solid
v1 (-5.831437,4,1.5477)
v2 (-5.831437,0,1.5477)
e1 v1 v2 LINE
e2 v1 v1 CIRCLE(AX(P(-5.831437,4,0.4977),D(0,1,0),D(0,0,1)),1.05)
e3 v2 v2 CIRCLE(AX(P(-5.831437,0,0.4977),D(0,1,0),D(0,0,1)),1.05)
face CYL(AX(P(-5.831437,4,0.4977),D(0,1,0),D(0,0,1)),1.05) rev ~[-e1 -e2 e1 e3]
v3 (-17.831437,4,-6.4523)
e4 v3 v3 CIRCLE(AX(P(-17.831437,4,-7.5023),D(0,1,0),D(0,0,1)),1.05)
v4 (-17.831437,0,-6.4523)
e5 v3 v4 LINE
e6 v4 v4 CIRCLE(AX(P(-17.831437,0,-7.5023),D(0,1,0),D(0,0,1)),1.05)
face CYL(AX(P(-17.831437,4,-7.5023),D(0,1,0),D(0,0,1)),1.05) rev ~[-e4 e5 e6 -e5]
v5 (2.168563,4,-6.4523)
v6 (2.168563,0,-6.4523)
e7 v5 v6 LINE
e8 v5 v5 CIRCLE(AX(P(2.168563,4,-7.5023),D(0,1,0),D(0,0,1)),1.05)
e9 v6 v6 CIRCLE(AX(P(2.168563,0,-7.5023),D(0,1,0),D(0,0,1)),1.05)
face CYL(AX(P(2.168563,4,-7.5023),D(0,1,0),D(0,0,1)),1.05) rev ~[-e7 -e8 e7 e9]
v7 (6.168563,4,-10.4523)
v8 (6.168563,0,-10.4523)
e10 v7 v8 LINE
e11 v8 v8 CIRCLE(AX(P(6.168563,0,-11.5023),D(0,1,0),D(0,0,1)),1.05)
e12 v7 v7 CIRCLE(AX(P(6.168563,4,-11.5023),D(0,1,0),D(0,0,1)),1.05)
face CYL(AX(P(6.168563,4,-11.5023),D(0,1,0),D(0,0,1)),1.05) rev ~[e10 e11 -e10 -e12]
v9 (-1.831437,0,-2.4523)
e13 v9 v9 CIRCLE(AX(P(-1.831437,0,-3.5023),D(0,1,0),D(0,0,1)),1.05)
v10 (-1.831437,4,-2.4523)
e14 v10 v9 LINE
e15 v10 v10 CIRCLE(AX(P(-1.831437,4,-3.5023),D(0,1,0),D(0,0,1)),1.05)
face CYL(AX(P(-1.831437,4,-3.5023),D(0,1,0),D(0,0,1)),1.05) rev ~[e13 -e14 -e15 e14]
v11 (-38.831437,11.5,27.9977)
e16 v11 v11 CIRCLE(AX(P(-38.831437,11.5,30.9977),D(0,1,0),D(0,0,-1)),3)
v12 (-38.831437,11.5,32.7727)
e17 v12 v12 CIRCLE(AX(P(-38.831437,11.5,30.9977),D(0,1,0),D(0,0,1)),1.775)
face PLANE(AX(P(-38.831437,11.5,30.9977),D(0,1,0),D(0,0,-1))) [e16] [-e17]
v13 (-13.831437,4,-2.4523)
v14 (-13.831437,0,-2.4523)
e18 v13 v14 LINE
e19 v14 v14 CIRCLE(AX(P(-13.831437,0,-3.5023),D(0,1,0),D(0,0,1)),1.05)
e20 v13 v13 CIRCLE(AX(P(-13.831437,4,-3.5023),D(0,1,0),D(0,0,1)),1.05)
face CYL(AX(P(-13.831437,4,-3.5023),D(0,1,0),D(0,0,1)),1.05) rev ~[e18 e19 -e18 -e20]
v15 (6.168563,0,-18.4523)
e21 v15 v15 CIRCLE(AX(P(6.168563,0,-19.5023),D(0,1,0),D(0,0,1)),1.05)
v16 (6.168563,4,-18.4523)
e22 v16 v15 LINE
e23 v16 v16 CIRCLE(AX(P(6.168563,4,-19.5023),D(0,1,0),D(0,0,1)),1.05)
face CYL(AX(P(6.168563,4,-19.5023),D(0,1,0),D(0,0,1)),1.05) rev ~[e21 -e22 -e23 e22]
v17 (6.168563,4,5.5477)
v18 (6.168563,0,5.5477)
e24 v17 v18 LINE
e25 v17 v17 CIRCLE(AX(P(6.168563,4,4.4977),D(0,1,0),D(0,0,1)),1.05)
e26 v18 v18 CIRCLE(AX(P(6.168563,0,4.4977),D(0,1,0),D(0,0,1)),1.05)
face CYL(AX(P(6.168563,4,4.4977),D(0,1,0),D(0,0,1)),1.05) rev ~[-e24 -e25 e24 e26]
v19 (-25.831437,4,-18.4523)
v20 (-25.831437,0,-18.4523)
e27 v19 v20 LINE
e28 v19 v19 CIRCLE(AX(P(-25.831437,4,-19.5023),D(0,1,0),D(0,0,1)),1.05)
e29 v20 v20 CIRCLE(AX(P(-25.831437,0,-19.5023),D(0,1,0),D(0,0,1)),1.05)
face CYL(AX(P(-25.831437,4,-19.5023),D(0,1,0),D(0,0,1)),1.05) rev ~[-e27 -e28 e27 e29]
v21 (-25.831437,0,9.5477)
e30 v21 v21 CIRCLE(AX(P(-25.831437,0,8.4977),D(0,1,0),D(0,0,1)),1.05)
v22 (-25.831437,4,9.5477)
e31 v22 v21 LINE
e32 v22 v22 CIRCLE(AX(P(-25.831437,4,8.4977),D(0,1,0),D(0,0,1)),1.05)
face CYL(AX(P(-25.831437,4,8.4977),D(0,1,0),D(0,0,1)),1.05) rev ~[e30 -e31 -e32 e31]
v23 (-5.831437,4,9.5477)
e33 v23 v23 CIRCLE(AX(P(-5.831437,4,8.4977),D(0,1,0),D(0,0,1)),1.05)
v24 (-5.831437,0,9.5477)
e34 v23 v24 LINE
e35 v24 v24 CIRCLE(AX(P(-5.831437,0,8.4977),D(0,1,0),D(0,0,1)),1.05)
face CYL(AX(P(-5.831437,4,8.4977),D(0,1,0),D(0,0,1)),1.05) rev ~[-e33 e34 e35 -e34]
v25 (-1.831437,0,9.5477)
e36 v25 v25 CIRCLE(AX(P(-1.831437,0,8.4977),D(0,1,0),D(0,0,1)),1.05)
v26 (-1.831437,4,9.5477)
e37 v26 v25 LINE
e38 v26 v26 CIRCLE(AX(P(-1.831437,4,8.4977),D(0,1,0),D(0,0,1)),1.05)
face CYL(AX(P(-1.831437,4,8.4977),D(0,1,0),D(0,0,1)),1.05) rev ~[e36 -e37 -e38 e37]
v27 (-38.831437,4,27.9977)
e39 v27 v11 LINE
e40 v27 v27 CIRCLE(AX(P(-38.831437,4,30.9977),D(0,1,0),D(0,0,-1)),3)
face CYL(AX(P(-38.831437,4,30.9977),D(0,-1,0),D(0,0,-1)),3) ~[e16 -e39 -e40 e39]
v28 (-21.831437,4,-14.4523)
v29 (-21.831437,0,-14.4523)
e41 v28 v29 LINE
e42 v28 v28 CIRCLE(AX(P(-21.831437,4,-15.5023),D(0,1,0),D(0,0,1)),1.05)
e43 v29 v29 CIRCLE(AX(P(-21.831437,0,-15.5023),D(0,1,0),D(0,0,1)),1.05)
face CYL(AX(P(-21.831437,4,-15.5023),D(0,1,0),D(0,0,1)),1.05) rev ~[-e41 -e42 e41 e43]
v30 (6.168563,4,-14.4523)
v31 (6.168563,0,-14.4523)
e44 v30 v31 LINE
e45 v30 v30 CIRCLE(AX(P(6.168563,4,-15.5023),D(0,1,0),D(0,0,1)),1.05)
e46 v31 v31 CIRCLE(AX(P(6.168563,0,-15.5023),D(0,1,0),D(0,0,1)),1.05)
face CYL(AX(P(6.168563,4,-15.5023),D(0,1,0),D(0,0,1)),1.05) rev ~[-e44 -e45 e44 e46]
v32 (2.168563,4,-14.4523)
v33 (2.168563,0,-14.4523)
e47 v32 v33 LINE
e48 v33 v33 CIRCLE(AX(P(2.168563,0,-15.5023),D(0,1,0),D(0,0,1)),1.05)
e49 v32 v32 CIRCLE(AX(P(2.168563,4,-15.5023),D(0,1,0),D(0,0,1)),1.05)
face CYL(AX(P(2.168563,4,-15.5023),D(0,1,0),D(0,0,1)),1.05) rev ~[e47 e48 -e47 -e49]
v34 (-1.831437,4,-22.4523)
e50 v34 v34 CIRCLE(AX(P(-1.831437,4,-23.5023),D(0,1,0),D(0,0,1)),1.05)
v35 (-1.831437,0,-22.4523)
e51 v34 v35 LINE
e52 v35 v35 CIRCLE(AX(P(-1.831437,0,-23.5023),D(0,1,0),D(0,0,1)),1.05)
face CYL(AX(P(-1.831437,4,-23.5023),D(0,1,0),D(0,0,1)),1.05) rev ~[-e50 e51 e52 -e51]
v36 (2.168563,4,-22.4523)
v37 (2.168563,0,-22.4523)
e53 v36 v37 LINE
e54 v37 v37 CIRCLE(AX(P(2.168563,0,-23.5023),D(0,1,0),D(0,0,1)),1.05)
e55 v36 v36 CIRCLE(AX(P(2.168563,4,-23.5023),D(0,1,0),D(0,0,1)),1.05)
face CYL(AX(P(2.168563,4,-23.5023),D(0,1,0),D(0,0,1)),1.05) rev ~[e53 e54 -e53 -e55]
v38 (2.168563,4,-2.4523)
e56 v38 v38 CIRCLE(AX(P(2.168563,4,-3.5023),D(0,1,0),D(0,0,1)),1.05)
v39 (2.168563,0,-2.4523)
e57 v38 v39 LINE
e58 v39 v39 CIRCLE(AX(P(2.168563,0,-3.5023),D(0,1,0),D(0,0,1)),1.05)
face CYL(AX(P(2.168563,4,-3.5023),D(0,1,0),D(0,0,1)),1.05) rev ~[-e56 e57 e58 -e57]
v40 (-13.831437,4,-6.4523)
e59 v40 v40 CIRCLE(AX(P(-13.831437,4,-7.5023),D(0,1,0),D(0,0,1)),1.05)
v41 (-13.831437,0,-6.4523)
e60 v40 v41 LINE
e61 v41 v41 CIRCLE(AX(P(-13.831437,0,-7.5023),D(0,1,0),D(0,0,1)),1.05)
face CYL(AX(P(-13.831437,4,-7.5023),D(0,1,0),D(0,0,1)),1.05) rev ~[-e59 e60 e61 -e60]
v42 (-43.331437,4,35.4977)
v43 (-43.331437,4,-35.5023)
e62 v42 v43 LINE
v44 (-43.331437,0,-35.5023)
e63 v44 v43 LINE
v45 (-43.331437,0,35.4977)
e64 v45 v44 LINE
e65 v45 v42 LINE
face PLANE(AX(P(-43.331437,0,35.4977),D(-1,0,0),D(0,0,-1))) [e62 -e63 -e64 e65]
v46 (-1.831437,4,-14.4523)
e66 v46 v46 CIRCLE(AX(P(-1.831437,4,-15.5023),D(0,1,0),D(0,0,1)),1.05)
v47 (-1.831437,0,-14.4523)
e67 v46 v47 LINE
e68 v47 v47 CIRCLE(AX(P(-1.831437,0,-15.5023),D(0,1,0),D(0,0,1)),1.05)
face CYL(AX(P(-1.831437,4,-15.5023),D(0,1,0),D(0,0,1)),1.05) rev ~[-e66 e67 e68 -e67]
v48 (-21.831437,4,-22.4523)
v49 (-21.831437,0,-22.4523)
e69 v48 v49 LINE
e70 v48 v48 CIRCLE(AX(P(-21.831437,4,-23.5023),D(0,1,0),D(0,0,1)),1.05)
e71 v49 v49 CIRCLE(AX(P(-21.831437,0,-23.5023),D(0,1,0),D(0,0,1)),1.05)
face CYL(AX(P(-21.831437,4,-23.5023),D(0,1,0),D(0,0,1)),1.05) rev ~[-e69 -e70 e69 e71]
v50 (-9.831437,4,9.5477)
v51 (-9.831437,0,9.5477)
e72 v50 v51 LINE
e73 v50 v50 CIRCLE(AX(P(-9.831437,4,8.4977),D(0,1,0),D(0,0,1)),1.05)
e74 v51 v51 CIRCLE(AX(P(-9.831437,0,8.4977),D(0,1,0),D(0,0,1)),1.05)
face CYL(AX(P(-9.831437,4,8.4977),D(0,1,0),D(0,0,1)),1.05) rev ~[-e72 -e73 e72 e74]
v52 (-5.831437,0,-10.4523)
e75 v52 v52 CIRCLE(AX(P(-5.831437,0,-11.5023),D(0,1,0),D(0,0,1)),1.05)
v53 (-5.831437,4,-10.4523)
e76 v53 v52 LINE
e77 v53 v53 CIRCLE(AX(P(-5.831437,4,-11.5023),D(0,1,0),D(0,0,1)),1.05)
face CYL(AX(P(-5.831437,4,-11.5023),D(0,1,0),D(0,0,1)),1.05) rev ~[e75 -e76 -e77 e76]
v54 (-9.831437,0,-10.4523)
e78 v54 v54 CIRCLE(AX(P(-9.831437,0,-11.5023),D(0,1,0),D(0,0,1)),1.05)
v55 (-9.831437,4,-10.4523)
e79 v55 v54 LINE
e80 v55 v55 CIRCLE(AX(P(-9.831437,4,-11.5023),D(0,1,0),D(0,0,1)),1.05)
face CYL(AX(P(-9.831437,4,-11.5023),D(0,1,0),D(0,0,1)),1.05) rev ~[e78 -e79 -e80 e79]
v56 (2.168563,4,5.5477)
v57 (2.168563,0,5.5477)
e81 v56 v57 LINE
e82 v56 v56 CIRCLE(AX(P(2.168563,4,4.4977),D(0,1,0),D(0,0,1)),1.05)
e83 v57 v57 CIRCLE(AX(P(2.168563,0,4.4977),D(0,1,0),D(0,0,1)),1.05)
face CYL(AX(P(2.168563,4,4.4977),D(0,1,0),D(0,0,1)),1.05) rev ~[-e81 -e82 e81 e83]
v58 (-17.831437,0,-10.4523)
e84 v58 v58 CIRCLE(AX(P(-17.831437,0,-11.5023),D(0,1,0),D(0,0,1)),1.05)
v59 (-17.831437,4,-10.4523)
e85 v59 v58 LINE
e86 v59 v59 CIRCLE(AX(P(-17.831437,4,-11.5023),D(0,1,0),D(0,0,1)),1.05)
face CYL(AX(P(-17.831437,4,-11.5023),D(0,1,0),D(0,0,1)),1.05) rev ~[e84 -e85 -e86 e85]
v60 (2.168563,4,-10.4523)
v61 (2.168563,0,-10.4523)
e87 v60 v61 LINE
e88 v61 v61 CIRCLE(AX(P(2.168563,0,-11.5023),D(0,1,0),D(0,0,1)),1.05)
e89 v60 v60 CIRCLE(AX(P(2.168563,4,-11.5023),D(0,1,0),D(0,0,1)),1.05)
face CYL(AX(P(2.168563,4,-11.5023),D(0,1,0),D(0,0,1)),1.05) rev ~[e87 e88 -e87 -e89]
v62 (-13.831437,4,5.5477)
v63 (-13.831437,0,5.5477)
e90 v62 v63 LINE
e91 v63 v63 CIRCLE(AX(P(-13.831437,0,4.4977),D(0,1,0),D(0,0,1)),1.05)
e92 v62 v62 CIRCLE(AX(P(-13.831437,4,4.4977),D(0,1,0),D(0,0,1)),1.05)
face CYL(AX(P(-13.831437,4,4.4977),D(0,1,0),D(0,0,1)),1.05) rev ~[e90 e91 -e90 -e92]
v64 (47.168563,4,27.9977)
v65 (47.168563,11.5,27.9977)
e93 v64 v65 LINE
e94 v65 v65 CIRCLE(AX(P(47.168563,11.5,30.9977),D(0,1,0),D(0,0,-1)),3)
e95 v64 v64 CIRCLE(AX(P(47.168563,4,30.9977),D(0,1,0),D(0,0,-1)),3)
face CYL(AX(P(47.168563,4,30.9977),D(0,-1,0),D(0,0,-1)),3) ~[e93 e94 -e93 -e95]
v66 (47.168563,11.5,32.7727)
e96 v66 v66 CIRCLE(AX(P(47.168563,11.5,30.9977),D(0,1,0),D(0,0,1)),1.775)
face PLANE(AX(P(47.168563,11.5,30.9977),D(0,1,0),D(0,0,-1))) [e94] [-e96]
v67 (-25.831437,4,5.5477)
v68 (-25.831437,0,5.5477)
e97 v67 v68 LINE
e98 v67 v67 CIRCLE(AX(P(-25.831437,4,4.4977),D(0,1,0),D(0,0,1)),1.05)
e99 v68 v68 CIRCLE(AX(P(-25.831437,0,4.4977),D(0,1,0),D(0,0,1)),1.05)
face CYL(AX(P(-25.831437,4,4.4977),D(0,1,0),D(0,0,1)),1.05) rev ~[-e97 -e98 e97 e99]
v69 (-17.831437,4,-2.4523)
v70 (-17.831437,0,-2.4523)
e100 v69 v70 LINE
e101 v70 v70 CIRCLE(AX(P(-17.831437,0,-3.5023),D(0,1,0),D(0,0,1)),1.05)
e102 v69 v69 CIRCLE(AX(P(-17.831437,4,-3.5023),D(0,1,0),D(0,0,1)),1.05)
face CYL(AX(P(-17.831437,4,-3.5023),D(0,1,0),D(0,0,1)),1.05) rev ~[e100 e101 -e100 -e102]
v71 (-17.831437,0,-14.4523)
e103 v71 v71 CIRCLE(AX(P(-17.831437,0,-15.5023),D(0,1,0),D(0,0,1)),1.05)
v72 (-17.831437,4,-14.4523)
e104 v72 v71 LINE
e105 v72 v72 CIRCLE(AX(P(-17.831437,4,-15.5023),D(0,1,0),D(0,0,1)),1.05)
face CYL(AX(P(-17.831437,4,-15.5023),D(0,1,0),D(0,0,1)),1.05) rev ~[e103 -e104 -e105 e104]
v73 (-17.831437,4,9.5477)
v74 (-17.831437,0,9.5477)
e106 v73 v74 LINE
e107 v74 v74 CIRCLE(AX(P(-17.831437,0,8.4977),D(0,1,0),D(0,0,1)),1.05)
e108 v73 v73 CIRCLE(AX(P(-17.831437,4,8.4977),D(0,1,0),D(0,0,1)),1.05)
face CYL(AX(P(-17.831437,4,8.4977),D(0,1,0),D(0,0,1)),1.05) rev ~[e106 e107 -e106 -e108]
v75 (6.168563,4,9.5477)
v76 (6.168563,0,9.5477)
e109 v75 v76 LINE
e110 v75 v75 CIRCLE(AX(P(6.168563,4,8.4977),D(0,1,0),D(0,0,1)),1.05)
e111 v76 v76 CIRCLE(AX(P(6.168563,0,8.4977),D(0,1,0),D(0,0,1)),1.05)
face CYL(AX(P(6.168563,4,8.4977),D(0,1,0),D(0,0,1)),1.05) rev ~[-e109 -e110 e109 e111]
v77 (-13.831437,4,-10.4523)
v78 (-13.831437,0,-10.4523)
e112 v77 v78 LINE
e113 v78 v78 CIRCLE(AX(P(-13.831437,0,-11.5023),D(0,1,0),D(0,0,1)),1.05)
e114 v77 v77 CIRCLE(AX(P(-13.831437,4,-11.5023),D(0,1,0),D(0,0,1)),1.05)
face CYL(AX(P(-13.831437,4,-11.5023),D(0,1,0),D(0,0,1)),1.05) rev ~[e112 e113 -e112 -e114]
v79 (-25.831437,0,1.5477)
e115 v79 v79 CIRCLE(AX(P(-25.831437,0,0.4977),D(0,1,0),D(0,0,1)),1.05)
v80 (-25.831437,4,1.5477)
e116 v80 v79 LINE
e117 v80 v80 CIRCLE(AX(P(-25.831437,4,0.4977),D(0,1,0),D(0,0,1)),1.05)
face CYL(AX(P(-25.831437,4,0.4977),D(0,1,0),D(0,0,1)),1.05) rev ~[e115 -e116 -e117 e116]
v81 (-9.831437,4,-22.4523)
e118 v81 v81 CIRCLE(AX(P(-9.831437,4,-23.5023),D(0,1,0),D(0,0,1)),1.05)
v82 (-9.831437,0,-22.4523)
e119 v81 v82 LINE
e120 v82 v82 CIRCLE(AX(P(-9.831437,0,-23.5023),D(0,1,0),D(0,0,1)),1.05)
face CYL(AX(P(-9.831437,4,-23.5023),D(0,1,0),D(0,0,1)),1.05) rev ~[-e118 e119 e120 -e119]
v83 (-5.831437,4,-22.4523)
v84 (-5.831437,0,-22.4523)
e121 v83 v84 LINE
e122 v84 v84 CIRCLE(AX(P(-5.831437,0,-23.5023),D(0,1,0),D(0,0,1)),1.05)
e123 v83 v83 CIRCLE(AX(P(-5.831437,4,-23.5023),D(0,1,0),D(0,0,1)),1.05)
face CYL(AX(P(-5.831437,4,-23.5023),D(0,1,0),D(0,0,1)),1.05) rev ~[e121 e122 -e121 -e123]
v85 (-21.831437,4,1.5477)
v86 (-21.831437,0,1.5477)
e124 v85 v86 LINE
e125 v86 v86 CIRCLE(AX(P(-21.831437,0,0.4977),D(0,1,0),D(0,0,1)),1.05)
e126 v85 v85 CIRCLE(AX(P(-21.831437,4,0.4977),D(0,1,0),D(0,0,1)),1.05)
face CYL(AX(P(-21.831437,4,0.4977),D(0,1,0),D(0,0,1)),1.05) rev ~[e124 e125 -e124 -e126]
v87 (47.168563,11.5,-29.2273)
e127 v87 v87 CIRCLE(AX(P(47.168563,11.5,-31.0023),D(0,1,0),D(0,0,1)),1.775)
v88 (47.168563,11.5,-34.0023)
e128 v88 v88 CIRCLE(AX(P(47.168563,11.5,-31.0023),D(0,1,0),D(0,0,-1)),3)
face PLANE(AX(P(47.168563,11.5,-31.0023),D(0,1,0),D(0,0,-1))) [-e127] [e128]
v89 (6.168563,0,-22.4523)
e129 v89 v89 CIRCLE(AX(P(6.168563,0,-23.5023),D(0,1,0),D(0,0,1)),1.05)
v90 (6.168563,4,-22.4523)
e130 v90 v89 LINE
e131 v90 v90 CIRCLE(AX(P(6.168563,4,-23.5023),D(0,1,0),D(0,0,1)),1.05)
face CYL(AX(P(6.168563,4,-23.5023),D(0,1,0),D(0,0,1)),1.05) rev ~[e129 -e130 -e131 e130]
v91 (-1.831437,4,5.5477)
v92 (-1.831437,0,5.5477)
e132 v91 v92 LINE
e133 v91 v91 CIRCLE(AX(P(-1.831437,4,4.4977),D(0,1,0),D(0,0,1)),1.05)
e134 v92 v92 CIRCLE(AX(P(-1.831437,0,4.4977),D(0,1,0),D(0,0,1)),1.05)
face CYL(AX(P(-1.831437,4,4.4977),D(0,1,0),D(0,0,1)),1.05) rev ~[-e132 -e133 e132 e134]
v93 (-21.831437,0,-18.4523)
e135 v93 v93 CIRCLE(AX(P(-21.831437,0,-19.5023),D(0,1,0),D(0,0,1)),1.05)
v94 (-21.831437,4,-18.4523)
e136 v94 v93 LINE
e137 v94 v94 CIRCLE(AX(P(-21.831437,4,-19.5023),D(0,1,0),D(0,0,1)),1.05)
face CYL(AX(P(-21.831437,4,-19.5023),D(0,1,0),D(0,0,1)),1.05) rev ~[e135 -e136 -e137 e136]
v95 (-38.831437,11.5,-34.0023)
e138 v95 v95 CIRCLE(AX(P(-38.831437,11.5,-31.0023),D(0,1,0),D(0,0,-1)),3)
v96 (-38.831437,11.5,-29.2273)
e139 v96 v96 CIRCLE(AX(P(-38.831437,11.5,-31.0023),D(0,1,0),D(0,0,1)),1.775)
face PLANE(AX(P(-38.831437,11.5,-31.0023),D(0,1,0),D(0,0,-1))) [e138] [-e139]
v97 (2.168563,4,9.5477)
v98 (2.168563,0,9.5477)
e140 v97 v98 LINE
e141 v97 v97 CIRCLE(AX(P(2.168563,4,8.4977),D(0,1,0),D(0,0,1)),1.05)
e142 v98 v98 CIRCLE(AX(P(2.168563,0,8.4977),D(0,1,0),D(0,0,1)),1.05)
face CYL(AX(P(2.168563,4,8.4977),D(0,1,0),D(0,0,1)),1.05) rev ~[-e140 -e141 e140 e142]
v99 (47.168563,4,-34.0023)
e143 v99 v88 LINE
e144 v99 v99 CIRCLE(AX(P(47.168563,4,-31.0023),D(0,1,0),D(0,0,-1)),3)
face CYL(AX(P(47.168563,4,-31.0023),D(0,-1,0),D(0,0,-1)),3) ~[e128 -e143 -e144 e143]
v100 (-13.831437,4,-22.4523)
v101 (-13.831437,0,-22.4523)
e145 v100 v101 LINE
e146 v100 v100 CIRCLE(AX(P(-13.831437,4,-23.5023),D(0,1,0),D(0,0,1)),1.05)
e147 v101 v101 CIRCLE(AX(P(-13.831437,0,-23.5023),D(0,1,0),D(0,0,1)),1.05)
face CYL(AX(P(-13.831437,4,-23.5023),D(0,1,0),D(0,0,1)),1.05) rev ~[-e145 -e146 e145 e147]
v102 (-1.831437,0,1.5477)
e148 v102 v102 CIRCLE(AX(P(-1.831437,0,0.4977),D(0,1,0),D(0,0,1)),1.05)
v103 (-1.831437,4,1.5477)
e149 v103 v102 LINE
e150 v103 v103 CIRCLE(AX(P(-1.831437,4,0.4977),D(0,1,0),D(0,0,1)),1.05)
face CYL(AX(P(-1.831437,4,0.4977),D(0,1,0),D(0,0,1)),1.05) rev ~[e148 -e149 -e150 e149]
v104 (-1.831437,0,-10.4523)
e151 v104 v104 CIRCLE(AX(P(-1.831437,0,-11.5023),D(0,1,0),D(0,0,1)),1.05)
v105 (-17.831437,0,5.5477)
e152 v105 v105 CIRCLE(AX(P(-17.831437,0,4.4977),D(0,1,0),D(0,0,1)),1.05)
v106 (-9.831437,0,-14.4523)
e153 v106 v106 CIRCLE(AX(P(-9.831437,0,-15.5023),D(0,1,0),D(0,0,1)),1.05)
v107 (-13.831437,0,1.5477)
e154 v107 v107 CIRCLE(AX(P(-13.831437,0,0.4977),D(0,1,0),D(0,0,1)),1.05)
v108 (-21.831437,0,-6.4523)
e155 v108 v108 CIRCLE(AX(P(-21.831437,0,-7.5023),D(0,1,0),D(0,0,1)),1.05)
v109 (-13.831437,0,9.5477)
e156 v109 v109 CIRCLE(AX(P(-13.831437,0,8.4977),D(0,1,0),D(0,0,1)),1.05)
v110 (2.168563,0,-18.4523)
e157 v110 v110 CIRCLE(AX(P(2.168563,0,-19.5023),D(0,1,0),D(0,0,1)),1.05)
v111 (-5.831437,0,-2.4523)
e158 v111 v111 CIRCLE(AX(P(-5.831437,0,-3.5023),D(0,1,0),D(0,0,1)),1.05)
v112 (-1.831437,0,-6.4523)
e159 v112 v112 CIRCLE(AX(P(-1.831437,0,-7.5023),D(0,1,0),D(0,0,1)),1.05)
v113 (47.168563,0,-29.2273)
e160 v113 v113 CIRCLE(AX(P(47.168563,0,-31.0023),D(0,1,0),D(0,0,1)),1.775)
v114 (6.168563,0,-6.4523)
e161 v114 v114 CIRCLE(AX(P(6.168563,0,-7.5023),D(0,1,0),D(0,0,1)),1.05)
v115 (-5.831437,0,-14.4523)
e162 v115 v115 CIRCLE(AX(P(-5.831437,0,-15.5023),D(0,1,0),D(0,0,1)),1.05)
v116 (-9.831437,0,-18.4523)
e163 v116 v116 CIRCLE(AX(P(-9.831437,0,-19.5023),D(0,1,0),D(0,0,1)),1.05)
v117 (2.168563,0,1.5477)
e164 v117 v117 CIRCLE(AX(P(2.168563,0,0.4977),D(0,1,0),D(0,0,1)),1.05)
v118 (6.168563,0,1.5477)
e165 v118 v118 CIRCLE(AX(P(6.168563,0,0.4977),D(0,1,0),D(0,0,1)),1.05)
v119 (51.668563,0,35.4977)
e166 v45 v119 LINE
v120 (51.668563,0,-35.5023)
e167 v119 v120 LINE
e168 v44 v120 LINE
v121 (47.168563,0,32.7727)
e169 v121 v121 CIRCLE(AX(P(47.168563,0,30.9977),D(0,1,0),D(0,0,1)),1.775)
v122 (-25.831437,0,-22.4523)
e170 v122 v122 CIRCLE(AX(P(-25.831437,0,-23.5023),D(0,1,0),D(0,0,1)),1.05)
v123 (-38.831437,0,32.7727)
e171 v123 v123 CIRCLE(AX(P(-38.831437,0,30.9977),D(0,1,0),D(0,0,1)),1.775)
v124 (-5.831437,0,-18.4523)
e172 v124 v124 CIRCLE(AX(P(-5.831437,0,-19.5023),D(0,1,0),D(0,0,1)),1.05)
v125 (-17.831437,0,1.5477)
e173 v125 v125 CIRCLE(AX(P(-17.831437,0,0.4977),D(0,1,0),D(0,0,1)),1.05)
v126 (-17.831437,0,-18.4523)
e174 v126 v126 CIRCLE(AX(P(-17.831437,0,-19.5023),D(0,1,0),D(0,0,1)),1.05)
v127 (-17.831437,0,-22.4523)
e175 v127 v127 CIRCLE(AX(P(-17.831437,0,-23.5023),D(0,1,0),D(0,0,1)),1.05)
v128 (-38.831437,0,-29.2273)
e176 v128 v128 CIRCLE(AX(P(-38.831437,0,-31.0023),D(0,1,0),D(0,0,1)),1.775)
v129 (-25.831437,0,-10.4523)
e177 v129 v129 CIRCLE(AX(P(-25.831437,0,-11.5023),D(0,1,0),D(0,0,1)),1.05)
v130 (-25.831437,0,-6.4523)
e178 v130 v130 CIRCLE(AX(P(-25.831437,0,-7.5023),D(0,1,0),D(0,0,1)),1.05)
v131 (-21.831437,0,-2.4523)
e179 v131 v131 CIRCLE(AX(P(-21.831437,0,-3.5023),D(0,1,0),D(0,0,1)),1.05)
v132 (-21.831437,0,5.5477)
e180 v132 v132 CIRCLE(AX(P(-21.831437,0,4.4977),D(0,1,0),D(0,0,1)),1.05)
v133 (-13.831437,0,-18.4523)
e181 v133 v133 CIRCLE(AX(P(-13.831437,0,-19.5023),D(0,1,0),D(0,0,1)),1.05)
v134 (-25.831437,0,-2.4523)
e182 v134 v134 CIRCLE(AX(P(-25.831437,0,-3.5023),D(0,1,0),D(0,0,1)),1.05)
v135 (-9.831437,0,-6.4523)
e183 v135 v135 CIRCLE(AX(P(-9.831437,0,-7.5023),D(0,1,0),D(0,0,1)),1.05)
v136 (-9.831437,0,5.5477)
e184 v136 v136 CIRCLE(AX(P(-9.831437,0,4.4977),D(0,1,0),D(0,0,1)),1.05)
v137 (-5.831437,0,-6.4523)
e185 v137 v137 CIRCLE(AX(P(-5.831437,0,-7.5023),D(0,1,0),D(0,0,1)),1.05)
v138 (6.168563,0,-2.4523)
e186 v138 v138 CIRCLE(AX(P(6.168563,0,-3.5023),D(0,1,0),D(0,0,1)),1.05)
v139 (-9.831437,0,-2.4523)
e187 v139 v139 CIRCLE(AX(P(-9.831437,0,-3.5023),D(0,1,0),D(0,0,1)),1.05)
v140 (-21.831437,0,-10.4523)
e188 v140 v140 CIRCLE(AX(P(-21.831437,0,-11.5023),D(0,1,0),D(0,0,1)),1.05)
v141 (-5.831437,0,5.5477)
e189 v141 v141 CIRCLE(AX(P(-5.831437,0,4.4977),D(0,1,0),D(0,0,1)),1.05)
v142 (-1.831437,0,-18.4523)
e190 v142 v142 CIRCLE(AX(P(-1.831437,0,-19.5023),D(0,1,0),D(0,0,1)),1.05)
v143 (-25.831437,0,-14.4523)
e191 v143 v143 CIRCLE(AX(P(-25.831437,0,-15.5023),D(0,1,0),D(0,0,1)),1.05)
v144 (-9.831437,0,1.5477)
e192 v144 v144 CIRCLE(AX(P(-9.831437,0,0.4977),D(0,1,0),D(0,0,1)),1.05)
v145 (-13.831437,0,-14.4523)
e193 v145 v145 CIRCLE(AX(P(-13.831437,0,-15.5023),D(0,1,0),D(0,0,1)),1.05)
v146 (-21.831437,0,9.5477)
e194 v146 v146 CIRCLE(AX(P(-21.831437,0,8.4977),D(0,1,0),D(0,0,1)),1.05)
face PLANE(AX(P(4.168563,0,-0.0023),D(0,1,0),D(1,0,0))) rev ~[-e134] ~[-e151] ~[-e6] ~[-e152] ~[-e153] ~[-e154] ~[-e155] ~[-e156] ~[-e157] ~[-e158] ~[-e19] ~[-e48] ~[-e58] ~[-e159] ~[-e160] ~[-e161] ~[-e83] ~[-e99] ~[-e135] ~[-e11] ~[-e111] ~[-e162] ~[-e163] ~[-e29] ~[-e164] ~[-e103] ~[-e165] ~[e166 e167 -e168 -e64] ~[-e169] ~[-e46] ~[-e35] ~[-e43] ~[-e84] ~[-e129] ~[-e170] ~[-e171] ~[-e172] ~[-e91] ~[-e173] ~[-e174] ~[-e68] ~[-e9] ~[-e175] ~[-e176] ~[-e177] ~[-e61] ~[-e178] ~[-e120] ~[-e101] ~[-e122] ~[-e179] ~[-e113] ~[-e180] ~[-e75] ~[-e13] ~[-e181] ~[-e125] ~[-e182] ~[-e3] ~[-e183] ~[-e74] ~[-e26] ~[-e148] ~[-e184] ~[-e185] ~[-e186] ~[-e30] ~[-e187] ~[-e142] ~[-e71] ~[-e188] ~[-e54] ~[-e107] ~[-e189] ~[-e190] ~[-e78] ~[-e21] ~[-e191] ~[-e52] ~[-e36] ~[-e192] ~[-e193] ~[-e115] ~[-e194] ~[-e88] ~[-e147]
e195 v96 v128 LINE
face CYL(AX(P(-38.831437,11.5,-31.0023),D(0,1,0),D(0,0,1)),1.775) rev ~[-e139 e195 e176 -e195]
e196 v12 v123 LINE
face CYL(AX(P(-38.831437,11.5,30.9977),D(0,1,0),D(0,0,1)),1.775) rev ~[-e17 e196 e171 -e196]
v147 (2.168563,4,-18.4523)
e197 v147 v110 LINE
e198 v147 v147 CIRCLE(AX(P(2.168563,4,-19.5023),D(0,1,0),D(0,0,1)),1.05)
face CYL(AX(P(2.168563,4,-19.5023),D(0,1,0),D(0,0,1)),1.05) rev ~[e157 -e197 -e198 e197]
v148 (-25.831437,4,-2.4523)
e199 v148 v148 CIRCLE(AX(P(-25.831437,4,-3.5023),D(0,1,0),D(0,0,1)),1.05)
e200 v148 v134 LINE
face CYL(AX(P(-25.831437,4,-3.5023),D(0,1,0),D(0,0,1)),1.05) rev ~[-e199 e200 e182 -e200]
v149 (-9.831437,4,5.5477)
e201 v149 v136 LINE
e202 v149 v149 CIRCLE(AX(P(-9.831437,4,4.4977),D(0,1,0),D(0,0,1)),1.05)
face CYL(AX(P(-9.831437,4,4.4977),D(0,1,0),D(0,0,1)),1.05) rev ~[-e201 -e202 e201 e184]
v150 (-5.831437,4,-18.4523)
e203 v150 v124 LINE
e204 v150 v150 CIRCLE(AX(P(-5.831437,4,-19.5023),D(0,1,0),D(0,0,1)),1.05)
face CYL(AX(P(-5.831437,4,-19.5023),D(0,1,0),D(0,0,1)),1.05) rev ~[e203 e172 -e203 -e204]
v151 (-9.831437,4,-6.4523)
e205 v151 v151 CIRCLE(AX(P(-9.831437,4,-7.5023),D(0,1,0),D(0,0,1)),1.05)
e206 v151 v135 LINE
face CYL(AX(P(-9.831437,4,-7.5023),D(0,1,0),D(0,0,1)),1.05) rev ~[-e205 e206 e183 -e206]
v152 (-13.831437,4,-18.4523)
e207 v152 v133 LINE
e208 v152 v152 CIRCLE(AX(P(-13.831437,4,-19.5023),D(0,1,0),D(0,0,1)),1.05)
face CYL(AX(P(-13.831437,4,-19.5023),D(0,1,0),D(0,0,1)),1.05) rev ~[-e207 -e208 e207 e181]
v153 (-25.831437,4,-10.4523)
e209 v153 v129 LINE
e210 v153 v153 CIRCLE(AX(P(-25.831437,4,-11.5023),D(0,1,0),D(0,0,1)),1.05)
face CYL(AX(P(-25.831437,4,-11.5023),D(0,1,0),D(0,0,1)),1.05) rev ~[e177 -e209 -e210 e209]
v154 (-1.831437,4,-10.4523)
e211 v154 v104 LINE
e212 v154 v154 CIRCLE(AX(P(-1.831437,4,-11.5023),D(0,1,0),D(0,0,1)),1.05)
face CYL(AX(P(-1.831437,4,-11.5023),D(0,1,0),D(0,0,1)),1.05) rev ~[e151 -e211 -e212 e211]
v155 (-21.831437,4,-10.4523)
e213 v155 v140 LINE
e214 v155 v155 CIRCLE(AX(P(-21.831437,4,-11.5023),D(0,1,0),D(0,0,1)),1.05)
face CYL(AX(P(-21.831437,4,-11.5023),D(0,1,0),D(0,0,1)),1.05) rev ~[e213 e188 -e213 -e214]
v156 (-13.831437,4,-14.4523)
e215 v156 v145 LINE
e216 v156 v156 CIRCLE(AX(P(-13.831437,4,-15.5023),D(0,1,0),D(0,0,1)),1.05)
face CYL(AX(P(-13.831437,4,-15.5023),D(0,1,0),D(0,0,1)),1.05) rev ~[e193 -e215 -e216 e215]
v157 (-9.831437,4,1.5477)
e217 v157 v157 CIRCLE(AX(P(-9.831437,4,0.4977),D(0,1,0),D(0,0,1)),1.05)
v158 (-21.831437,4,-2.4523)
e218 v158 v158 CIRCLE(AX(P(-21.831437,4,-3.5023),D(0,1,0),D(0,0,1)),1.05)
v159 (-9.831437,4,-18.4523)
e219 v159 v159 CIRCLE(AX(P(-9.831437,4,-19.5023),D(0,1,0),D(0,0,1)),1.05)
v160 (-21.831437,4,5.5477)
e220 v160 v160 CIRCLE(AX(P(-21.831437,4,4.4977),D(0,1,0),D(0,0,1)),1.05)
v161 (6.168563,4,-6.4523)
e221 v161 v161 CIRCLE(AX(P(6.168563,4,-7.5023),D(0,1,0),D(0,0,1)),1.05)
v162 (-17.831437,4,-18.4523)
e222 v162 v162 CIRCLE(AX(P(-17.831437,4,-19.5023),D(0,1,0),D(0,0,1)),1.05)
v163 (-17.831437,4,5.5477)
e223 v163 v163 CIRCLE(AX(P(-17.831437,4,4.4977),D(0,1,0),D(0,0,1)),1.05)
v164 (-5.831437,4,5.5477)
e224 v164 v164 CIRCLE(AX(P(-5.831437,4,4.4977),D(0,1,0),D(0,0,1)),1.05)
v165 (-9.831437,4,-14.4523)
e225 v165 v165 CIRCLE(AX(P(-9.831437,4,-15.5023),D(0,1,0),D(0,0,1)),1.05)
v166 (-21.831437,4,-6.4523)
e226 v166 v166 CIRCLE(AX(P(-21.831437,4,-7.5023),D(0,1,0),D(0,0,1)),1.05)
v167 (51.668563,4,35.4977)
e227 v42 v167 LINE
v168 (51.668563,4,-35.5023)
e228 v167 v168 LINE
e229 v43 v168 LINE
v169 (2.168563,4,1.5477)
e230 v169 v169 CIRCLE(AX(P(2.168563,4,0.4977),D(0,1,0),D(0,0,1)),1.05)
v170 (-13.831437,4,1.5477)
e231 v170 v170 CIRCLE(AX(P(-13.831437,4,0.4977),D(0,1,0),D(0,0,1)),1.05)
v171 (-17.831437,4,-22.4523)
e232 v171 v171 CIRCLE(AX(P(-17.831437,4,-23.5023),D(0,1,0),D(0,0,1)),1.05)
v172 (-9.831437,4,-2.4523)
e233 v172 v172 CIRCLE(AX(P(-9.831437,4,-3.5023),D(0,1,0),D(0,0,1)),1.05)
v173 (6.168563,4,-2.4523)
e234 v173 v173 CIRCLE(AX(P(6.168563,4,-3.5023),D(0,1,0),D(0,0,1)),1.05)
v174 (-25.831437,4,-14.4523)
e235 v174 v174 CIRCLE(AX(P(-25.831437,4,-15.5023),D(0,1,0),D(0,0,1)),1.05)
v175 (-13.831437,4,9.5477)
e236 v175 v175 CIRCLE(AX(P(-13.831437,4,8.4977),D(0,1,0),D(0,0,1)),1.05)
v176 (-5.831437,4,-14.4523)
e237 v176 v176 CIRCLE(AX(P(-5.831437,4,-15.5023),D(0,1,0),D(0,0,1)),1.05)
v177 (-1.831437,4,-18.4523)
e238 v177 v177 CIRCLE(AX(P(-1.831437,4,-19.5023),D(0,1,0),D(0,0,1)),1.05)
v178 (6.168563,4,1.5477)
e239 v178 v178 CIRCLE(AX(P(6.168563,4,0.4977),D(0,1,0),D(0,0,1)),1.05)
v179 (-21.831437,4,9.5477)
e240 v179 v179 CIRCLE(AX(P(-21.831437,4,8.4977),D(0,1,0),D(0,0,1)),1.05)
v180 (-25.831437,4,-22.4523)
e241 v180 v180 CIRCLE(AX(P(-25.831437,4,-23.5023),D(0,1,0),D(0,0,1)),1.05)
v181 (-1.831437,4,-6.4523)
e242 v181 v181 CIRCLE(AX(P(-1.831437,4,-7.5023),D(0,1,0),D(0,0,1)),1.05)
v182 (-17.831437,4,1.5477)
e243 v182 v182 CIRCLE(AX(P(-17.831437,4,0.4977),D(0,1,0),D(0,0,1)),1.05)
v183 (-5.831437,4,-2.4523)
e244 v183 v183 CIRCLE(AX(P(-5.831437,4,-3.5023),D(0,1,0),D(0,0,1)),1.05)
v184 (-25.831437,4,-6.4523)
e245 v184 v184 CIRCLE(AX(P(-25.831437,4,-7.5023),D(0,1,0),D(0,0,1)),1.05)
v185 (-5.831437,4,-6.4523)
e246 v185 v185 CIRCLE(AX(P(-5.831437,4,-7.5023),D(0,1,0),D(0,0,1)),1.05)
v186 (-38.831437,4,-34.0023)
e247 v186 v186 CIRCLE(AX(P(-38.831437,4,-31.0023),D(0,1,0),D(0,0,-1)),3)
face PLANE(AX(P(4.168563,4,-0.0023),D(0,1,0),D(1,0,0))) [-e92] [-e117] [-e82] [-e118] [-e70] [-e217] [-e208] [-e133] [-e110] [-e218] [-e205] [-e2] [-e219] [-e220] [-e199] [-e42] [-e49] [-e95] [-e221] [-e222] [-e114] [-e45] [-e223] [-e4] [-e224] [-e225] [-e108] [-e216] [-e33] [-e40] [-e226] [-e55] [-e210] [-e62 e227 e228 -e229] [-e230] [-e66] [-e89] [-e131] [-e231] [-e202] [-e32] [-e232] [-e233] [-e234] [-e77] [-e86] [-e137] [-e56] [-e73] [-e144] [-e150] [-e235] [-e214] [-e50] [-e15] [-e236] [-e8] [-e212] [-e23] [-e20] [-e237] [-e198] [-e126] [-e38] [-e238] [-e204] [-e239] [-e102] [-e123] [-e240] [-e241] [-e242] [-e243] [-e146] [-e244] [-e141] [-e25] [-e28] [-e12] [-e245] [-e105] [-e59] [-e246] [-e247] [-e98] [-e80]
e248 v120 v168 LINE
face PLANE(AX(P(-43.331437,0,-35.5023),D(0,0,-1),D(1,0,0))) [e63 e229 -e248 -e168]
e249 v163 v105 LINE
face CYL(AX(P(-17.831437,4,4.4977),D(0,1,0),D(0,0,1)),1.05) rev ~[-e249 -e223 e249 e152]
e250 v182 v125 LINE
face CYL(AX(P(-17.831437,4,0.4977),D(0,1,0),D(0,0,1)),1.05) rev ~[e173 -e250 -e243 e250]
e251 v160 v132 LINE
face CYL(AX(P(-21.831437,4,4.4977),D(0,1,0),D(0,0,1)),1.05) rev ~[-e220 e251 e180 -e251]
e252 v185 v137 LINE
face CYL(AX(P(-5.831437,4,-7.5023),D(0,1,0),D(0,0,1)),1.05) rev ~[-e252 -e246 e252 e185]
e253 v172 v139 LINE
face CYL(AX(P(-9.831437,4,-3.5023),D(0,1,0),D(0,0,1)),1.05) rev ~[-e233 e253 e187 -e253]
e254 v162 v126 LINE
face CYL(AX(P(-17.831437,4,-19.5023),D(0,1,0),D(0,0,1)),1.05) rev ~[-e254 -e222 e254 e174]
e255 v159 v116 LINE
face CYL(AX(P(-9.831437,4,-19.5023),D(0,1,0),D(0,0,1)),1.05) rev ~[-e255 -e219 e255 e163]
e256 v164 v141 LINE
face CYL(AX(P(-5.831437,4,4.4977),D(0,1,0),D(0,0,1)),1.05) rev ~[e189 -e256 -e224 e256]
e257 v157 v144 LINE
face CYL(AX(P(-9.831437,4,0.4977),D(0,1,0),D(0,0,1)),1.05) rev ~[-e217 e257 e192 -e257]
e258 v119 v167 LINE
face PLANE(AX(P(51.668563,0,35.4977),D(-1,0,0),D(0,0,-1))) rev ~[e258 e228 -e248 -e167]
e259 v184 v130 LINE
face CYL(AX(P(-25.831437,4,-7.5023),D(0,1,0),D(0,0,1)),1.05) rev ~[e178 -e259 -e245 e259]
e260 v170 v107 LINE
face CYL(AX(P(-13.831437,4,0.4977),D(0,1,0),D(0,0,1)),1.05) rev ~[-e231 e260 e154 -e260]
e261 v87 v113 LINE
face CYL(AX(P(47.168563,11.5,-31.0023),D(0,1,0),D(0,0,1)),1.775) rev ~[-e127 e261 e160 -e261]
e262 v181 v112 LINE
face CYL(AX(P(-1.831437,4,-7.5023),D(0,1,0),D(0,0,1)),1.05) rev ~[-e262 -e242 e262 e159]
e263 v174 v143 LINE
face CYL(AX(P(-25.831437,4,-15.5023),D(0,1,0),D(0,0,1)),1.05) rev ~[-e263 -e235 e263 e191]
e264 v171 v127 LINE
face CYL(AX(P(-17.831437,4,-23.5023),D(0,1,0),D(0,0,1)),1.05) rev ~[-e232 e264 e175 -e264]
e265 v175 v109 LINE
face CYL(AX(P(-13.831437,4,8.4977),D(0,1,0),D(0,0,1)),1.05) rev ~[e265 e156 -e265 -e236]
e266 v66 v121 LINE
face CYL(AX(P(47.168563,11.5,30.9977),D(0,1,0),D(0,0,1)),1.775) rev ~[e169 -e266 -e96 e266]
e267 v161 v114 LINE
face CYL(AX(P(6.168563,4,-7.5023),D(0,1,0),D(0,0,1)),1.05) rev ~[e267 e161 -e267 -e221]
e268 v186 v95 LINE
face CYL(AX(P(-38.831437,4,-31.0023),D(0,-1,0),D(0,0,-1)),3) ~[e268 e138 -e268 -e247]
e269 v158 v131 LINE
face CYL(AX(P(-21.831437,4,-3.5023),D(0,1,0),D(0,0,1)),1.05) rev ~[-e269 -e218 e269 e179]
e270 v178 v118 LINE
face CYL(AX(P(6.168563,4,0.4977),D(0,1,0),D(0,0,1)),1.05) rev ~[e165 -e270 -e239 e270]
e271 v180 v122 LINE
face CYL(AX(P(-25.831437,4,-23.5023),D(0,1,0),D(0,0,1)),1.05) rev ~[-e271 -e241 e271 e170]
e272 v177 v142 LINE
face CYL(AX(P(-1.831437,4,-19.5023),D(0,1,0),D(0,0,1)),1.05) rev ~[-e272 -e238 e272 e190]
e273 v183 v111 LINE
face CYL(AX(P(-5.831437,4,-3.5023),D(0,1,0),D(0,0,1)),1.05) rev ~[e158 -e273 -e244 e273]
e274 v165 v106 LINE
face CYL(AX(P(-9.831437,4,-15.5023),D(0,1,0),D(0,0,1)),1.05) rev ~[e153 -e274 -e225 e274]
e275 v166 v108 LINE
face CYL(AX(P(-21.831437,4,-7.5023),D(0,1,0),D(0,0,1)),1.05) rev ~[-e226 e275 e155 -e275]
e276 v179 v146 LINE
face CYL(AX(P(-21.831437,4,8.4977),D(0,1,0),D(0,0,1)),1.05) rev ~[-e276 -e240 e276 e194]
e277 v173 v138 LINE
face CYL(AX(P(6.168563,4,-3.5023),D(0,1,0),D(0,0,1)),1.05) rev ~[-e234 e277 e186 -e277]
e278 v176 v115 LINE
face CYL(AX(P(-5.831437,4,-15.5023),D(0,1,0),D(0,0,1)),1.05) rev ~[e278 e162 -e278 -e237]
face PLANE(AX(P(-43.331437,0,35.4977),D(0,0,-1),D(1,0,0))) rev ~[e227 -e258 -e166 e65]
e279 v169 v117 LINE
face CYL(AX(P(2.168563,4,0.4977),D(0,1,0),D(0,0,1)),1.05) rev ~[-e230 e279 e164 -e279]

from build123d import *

# Parameters (mm, degrees)
SKETCH1_W            = 95
SKETCH1_H            = 71
BOSS_EXTRUDE1_DEPTH  = 4
SKETCH2_R            = 3
BOSS_EXTRUDE2_DEPTH  = 7.5
SKETCH3_R            = 1.775
CUT_EXTRUDE1_DEPTH   = 64.736204248
SKETCH4_R            = 1.05
CUT_EXTRUDE2_DEPTH   = 64.13718185
LPATTERN1_COUNT      = 9
LPATTERN1_PITCH      = 4
LPATTERN1_COUNT_DIR2 = 9
LPATTERN1_PITCH_DIR2 = 4


with BuildPart() as part:
    # Sketch1 → Boss-Extrude1 (new body)
    with BuildSketch(Plane(origin=(0, 0, 0), x_dir=(1, 0, 0), z_dir=(0, 1, 0))):
        with Locations((4.168563349, 0.002299833)):
            Rectangle(SKETCH1_W, SKETCH1_H)
    extrude(amount=BOSS_EXTRUDE1_DEPTH)

    # Sketch2 → Boss-Extrude2 (add)
    with BuildSketch(Plane(origin=(0, 4, 0), x_dir=(1, 0, 0), z_dir=(0, 1, 0))):
        with Locations(Location((-38.831436651, -30.997700167, 0), (0, 0, 90))):
            Circle(SKETCH2_R)
        with Locations(Location((-38.831436651, 31.002299833, 0), (0, 0, 90))):
            Circle(SKETCH2_R)
        with Locations(Location((47.168563349, 31.002299833, 0), (0, 0, 90))):
            Circle(SKETCH2_R)
        with Locations(Location((47.168563349, -30.997700167, 0), (0, 0, 90))):
            Circle(SKETCH2_R)
    extrude(amount=BOSS_EXTRUDE2_DEPTH)

    # Sketch3 → Cut-Extrude1 (cut, through all)
    with BuildSketch(Plane(origin=(0, 11.5, 0), x_dir=(1, 0, 0), z_dir=(0, 1, 0))):
        with Locations(Location((-38.831436651, 31.002299833, 0), (0, 0, 270))):
            Circle(SKETCH3_R)
        with Locations(Location((-38.831436651, -30.997700167, 0), (0, 0, 270))):
            Circle(SKETCH3_R)
        with Locations(Location((47.168563349, -30.997700167, 0), (0, 0, 270))):
            Circle(SKETCH3_R)
        with Locations(Location((47.168563349, 31.002299833, 0), (0, 0, 270))):
            Circle(SKETCH3_R)
    extrude(amount=-CUT_EXTRUDE1_DEPTH, mode=Mode.SUBTRACT)

    # Sketch4 → Cut-Extrude2 (cut, through all)
    with BuildSketch(Plane(origin=(0, 4, 0), x_dir=(1, 0, 0), z_dir=(0, 1, 0))):
        with Locations(Location((-25.831436651, 23.502299833, 0), (0, 0, 270))):
            Circle(SKETCH4_R)
    cut_extrude2 = extrude(amount=-CUT_EXTRUDE2_DEPTH, mode=Mode.SUBTRACT)

    # LPattern1: Cut-Extrude2 9 × 9
    with Locations(*[(i * LPATTERN1_PITCH, 0, j * LPATTERN1_PITCH_DIR2) for i in range(LPATTERN1_COUNT) for j in range(LPATTERN1_COUNT_DIR2) if (i, j) != (0, 0)]):
        add(cut_extrude2, mode=Mode.SUBTRACT)


solid = part.part
